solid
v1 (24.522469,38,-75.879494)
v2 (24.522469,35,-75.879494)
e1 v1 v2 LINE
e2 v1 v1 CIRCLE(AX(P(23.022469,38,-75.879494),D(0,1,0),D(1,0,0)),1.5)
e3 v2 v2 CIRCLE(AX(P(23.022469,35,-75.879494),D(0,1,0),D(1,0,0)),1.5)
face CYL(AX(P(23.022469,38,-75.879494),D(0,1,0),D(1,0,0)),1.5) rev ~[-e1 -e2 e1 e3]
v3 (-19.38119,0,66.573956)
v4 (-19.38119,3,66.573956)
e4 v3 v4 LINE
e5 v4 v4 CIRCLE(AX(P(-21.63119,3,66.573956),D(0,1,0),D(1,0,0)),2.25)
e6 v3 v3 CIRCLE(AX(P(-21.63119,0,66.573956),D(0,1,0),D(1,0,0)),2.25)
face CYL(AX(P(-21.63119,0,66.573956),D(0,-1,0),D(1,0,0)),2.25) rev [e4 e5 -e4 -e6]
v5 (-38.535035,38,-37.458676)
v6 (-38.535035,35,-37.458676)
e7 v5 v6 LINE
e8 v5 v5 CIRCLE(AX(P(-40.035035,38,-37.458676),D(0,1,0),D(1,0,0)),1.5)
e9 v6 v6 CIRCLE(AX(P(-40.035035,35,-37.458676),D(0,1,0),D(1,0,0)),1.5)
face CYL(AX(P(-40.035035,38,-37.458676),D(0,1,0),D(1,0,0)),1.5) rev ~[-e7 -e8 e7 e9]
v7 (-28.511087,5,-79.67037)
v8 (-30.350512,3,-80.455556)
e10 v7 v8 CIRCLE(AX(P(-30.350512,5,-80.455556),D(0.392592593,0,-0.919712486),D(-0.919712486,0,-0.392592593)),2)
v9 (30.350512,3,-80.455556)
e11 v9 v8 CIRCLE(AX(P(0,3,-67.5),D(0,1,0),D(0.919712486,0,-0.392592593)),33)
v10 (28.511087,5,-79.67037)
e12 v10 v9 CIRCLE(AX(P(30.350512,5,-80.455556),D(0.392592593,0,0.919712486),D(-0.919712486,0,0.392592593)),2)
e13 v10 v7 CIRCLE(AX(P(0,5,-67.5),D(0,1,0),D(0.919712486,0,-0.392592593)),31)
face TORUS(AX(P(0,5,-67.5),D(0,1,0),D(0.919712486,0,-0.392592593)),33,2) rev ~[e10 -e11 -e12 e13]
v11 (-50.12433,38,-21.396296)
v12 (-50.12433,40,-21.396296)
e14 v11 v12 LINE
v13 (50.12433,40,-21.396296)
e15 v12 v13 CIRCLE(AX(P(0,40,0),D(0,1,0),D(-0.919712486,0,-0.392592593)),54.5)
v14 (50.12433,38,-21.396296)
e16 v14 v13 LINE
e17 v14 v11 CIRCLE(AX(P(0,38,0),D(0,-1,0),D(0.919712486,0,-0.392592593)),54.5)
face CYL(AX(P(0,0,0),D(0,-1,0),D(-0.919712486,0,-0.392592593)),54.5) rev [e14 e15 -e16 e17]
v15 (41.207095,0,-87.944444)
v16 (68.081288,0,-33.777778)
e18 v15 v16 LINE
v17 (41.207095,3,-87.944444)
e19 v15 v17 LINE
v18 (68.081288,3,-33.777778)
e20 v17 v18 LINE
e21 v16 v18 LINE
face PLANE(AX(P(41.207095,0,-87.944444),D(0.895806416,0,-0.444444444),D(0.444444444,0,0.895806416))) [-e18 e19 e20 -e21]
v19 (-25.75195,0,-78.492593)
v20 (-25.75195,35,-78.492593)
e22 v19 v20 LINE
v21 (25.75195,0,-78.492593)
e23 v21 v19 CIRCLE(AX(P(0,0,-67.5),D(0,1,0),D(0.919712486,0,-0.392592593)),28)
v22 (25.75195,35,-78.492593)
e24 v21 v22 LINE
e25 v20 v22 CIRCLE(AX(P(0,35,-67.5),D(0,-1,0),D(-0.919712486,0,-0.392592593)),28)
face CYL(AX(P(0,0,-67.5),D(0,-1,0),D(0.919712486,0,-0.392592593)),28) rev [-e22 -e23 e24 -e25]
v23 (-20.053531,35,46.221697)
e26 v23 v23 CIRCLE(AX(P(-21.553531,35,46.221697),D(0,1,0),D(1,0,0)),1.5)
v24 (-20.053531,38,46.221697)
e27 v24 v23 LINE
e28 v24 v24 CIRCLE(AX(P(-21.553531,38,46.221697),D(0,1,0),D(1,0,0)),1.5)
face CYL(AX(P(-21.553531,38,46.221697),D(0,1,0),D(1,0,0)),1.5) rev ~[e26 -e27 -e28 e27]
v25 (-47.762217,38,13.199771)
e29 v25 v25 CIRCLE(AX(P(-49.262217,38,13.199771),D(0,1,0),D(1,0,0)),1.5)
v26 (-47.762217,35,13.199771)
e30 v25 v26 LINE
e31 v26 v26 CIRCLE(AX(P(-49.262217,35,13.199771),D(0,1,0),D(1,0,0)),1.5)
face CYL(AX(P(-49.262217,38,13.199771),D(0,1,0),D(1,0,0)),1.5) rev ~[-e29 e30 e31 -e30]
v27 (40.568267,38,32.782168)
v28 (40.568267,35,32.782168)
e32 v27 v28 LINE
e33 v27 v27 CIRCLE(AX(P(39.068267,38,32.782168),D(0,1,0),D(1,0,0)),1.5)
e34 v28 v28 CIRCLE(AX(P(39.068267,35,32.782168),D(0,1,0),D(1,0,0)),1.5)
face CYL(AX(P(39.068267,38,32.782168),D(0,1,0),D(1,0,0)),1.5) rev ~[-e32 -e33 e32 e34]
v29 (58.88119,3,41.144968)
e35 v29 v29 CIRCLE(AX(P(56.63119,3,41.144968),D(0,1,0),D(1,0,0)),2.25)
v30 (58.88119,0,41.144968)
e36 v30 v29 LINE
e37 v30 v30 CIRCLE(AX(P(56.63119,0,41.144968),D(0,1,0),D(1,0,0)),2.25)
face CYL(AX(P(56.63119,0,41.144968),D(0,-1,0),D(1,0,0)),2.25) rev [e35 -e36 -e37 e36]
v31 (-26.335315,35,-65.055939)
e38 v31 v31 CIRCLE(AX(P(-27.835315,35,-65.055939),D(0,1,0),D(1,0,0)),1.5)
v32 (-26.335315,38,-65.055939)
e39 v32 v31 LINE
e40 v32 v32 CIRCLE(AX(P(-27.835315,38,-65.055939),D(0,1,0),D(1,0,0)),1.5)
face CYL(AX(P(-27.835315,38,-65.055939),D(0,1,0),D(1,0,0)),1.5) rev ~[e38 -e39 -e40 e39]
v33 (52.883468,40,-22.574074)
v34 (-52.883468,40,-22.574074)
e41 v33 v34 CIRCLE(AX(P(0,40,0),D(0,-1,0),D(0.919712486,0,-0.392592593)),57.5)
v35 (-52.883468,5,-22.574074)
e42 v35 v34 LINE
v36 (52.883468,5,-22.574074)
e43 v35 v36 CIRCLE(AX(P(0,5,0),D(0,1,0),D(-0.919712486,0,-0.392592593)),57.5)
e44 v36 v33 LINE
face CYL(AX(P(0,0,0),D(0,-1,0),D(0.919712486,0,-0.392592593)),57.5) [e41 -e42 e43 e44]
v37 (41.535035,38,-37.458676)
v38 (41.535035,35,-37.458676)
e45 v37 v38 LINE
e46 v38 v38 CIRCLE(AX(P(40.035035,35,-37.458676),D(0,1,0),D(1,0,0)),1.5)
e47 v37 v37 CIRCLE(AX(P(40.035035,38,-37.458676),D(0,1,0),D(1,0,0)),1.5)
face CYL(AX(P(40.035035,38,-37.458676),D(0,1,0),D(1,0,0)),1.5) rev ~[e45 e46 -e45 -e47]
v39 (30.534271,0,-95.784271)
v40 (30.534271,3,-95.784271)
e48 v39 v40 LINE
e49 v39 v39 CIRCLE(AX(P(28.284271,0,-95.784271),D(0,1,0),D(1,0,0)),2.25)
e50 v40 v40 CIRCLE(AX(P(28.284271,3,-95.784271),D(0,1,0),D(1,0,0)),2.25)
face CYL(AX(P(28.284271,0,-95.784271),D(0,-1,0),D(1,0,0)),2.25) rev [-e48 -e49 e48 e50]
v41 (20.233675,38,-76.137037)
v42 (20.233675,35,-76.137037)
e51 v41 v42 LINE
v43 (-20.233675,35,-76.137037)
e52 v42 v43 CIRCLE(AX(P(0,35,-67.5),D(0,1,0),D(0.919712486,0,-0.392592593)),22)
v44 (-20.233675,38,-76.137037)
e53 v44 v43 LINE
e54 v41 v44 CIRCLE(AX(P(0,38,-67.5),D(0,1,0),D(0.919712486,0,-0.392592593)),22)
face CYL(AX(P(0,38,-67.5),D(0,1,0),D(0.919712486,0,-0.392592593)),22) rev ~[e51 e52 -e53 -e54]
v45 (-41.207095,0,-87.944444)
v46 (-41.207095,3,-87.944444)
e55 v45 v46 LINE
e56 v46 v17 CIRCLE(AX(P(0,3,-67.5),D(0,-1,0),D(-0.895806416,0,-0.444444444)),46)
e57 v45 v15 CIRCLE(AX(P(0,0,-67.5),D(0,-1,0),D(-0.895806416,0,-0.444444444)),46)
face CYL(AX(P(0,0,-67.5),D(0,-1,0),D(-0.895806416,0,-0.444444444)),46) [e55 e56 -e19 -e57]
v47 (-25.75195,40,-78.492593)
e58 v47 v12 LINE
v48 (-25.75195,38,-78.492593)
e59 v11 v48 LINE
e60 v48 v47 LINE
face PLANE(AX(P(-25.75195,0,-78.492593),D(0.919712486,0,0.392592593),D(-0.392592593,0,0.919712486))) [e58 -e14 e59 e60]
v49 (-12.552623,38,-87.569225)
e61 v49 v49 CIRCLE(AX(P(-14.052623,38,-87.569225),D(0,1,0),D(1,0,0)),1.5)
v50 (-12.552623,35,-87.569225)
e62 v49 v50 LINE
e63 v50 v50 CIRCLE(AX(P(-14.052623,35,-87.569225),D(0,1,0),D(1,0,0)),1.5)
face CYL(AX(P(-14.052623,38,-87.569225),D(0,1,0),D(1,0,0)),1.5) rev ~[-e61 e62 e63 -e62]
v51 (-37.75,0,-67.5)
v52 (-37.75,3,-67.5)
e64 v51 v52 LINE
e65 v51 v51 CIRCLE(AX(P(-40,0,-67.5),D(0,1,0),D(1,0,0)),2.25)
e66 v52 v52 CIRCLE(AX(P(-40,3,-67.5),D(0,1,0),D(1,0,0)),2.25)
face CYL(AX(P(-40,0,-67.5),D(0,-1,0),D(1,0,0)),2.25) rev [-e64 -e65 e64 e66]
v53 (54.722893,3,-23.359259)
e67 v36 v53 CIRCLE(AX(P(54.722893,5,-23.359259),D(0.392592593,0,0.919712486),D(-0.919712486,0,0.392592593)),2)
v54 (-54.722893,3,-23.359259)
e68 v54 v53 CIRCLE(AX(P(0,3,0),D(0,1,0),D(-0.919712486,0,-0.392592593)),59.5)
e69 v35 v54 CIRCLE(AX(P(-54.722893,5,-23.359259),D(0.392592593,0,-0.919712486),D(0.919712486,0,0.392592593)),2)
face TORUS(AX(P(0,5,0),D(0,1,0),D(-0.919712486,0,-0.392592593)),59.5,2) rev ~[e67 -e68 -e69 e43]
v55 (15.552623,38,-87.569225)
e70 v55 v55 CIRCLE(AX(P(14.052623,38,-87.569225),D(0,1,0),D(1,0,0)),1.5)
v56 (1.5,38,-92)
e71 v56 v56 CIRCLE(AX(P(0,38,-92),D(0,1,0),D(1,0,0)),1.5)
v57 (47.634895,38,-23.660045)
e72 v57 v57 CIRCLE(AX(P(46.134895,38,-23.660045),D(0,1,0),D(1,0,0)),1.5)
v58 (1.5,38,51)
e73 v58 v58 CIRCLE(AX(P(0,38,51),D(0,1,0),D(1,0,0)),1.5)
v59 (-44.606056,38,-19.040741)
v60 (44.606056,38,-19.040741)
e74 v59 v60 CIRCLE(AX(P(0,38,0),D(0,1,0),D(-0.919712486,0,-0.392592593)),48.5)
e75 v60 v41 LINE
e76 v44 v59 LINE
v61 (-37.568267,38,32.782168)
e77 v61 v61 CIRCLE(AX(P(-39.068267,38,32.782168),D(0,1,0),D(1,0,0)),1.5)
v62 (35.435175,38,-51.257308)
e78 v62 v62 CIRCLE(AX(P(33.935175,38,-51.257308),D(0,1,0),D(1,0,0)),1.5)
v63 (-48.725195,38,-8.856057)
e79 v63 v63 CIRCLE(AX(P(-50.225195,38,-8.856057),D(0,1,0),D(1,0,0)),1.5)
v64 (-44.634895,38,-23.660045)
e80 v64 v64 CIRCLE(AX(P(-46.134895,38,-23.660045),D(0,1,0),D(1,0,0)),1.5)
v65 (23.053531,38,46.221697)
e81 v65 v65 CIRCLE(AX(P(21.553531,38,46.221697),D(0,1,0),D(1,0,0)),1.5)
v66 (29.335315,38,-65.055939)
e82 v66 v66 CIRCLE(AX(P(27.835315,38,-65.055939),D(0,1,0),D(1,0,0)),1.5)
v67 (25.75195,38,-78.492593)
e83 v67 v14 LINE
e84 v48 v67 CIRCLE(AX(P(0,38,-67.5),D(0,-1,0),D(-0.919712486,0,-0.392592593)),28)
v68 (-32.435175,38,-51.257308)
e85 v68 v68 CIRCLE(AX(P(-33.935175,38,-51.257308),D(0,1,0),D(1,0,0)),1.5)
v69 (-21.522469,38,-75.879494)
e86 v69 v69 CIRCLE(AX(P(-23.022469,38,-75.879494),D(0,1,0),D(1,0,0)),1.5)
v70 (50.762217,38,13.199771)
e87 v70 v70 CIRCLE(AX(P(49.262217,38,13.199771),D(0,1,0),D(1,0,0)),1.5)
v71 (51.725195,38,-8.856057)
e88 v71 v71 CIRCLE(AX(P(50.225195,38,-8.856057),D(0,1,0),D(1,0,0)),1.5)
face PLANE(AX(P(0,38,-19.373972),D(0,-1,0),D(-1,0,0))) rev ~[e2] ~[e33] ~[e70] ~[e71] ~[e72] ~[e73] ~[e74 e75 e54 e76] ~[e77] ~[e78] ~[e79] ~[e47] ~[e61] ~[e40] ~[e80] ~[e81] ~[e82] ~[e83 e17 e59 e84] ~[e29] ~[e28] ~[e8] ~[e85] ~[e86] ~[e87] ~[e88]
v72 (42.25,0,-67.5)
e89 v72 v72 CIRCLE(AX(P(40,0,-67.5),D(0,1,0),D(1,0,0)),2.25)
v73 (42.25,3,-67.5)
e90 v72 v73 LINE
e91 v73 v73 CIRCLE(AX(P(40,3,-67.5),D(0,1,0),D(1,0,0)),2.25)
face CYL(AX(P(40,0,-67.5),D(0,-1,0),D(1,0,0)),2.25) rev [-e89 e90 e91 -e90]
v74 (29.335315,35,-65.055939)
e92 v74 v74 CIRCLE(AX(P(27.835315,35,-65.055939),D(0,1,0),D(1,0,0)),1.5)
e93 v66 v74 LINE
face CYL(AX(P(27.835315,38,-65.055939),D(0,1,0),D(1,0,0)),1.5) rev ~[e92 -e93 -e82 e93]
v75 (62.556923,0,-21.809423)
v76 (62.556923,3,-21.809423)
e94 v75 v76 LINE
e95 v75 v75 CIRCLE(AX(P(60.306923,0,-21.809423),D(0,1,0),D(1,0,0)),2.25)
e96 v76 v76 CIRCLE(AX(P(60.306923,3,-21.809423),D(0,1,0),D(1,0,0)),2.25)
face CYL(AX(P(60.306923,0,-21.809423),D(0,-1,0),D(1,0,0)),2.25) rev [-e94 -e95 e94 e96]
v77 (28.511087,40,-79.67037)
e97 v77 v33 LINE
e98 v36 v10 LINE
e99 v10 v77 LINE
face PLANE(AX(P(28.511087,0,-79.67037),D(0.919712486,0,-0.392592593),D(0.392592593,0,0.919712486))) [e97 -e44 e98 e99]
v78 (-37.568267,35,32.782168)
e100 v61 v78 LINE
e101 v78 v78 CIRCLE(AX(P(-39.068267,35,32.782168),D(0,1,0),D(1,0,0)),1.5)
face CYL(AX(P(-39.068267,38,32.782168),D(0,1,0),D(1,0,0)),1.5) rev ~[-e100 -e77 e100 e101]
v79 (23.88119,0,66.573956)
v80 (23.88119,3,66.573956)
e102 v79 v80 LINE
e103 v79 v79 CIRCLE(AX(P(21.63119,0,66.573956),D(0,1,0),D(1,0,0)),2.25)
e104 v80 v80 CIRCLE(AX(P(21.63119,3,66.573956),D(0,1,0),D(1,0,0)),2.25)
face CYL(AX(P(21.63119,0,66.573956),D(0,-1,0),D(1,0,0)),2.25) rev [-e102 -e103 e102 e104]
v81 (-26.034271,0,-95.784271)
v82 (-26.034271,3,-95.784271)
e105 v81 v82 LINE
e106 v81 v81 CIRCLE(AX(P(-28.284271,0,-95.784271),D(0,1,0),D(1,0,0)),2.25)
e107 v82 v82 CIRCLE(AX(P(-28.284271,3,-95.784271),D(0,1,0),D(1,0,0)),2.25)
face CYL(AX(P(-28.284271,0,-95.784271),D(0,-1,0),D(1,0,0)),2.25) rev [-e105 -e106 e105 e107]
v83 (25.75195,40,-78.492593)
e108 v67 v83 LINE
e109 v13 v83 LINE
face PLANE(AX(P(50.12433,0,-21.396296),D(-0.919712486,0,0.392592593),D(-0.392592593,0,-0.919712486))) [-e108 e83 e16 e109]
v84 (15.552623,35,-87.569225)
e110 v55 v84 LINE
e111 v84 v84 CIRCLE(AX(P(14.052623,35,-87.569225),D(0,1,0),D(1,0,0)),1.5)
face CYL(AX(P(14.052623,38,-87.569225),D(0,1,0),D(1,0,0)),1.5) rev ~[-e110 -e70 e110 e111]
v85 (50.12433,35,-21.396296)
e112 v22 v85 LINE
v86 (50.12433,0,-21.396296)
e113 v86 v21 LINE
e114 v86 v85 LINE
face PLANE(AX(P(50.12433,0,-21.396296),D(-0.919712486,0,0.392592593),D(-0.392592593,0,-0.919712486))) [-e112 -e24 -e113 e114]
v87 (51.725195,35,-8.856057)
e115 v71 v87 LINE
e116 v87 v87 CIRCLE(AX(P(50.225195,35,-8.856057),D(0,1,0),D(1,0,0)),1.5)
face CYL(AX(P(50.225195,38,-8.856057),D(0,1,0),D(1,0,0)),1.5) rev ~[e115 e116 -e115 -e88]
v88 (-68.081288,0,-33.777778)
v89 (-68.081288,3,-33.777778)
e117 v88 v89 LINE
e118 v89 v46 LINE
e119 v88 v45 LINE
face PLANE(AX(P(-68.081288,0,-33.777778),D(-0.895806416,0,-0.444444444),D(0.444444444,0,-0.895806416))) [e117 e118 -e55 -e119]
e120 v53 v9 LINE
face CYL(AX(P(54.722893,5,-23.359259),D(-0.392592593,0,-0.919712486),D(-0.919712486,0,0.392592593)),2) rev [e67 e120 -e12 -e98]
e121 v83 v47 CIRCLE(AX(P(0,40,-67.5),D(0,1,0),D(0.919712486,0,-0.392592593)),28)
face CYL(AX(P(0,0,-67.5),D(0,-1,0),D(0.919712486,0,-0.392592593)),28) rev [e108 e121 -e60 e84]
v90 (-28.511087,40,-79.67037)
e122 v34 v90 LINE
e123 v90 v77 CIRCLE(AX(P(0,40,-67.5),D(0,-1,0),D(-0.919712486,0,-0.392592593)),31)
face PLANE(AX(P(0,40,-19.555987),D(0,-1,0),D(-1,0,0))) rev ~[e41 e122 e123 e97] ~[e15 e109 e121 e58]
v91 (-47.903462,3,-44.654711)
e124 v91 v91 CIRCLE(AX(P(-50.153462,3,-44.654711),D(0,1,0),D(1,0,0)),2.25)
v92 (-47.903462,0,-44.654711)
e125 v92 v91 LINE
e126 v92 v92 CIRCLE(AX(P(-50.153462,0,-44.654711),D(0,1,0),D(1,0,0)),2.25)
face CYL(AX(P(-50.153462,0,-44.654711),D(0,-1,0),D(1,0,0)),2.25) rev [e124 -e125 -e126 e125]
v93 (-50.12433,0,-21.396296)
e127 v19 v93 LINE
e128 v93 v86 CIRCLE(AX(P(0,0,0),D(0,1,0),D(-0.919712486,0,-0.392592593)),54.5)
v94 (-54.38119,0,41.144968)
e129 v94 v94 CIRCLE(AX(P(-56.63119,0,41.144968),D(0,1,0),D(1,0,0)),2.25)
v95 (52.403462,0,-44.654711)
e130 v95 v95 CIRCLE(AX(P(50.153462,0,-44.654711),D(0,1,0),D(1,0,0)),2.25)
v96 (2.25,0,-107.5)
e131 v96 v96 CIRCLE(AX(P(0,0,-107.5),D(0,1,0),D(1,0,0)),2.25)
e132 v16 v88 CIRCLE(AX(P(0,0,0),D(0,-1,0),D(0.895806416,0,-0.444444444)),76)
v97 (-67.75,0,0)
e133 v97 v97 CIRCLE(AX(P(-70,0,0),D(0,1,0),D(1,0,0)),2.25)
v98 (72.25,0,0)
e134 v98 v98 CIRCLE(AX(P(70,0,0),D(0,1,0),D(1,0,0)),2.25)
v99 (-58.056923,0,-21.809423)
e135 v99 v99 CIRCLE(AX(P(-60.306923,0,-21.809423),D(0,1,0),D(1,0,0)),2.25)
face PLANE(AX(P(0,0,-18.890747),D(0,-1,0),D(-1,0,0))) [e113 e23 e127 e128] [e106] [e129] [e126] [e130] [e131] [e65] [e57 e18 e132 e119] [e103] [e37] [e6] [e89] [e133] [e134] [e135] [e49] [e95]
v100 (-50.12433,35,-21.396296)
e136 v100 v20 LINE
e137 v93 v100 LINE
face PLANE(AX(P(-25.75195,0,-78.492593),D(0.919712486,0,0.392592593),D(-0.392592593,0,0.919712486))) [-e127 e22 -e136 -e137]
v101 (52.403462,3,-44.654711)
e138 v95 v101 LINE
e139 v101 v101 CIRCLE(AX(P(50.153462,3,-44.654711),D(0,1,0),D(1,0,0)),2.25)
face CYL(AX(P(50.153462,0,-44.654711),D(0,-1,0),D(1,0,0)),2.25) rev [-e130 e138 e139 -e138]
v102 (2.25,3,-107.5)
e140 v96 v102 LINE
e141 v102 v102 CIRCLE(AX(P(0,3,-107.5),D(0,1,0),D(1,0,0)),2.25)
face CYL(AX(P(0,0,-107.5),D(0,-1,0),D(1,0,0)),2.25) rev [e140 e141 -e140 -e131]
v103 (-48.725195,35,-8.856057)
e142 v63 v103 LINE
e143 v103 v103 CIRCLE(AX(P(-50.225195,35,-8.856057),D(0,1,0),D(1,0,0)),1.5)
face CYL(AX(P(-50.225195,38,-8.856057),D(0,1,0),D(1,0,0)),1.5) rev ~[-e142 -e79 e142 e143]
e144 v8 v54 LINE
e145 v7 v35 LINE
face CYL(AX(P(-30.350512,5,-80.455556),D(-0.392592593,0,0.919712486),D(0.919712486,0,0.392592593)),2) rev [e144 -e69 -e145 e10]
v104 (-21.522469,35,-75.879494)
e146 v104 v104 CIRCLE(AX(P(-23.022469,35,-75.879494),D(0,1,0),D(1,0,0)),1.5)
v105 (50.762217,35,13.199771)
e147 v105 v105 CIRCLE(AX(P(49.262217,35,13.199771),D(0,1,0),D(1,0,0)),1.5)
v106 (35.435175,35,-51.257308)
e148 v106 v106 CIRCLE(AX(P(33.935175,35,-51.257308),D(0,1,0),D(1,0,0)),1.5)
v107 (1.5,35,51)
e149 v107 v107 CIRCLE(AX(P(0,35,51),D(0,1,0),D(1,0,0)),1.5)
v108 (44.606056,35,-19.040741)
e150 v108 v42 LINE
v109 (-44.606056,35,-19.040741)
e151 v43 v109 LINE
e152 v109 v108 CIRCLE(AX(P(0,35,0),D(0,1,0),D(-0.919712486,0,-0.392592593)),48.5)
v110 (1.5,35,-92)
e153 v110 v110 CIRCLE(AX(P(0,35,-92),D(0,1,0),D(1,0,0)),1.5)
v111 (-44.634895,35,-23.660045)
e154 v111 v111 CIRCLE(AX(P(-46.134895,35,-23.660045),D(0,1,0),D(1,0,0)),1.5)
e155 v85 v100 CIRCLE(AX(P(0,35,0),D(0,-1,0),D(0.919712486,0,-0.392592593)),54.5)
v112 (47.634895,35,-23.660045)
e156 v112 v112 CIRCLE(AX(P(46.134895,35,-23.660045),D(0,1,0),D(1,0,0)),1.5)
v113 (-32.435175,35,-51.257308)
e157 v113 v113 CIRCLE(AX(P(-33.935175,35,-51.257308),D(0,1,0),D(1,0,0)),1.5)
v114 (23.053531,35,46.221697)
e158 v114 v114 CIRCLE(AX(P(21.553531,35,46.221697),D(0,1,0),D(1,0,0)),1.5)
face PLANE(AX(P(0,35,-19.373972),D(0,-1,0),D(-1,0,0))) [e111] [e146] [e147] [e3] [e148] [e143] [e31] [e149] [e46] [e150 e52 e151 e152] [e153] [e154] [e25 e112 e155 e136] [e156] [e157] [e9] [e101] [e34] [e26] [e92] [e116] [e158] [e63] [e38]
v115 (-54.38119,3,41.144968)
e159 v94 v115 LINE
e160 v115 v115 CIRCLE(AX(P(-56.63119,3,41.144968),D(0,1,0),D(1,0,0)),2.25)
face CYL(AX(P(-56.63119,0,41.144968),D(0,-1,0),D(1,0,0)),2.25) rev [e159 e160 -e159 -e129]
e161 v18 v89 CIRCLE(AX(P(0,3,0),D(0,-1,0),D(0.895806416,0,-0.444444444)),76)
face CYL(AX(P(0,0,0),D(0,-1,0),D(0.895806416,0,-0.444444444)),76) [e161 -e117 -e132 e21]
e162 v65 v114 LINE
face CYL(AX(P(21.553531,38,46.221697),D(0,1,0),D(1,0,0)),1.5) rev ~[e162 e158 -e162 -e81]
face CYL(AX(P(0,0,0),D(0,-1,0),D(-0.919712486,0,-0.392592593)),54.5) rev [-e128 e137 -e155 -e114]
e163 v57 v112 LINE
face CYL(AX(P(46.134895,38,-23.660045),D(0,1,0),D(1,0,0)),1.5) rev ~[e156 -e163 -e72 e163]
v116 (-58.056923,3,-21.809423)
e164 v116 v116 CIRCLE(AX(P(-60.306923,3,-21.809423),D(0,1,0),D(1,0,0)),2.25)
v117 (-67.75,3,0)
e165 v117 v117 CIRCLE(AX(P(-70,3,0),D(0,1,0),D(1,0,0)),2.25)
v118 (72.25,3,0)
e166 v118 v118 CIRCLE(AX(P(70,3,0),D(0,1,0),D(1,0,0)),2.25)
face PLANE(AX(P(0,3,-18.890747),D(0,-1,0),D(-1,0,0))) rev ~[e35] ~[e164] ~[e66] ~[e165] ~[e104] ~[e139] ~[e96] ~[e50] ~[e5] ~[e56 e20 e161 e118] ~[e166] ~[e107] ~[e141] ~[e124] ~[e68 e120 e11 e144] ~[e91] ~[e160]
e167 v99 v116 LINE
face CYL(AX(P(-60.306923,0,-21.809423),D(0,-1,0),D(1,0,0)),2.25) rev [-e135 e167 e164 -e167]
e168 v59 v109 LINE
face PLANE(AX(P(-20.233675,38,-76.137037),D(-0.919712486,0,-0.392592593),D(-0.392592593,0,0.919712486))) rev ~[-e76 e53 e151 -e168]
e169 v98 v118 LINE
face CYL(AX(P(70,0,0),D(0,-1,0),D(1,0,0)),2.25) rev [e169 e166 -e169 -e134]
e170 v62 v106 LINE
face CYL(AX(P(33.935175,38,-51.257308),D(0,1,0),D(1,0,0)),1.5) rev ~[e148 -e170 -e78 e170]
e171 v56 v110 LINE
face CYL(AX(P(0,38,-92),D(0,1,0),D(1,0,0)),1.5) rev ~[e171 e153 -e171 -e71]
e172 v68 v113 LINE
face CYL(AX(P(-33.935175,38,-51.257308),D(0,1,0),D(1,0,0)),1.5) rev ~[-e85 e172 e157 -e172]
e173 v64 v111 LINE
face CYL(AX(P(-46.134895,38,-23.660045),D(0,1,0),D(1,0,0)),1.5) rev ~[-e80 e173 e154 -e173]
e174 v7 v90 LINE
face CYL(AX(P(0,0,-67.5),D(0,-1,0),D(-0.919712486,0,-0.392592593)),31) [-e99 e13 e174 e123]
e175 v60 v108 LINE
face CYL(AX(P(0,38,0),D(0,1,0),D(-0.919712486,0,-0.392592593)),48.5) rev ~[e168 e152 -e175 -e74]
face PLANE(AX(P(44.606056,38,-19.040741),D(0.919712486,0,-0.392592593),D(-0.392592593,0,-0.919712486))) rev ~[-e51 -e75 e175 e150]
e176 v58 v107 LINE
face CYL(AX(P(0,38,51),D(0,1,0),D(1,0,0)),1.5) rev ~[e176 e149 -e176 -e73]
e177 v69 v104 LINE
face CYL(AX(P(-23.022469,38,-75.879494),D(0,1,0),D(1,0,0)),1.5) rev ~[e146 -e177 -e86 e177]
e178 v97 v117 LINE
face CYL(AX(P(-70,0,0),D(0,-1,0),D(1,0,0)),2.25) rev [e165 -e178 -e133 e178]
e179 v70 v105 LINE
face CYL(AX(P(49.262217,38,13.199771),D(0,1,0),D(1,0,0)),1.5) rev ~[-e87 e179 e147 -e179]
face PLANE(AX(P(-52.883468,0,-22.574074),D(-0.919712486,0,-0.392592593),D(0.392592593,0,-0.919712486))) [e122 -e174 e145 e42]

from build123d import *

# Parameters (mm, degrees)
SKETCH1_R           = 2.25
BOSS_EXTRUDE1_DEPTH = 3
BOSS_EXTRUDE2_DEPTH = 40
BOSS_EXTRUDE3_START = -5
BOSS_EXTRUDE3_DEPTH = 3
SKETCH6_R           = 1.5
CUT_EXTRUDE1_DEPTH  = 142.782403704
FILLET1_R           = 2


with BuildPart() as part:
    # Sketch1 → Boss-Extrude1 (new body)
    with BuildSketch(Plane(origin=(0, 0, 0), x_dir=(1, 0, 0), z_dir=(0, 1, 0))):
        with BuildLine():
            Line((68.081287652, 33.777777778), (41.207095158, 87.944444444))
            ThreePointArc((41.207095158, 87.944444444), (0, 113.5), (-41.207095158, 87.944444444))
            Line((-41.207095158, 87.944444444), (-68.081287652, 33.777777778))
            ThreePointArc((-68.081287652, 33.777777778), (0, -76), (68.081287652, 33.777777778))
        make_face()
        with Locations((-56.631189606, -41.14496766)):
            Circle(SKETCH1_R, mode=Mode.SUBTRACT)
        with Locations((-21.631189606, -66.573956141)):
            Circle(SKETCH1_R, mode=Mode.SUBTRACT)
        with Locations((-70, 0)):
            Circle(SKETCH1_R, mode=Mode.SUBTRACT)
        with Locations((21.631189606, -66.573956141)):
            Circle(SKETCH1_R, mode=Mode.SUBTRACT)
        with Locations((56.631189606, -41.14496766)):
            Circle(SKETCH1_R, mode=Mode.SUBTRACT)
        with Locations((70, 0)):
            Circle(SKETCH1_R, mode=Mode.SUBTRACT)
        with Locations((-60.306923303, 21.809422569)):
            Circle(SKETCH1_R, mode=Mode.SUBTRACT)
        with Locations((-50.153461651, 44.654711284)):
            Circle(SKETCH1_R, mode=Mode.SUBTRACT)
        with Locations((-40, 67.5)):
            Circle(SKETCH1_R, mode=Mode.SUBTRACT)
        with Locations((-28.284271247, 95.784271247)):
            Circle(SKETCH1_R, mode=Mode.SUBTRACT)
        with Locations((0, 107.5)):
            Circle(SKETCH1_R, mode=Mode.SUBTRACT)
        with BuildLine():
            Line((-52.883467924, 22.574074074), (-28.511087055, 79.67037037))
            ThreePointArc((-28.511087055, 79.67037037), (0, 98.5), (28.511087055, 79.67037037))
            Line((28.511087055, 79.67037037), (52.883467924, 22.574074074))
            ThreePointArc((52.883467924, 22.574074074), (0, -57.5), (-52.883467924, 22.574074074))
        make_face(mode=Mode.SUBTRACT)
        with Locations((60.306923303, 21.809422569)):
            Circle(SKETCH1_R, mode=Mode.SUBTRACT)
        with Locations((50.153461651, 44.654711284)):
            Circle(SKETCH1_R, mode=Mode.SUBTRACT)
        with Locations((28.284271247, 95.784271247)):
            Circle(SKETCH1_R, mode=Mode.SUBTRACT)
        with Locations((40, 67.5)):
            Circle(SKETCH1_R, mode=Mode.SUBTRACT)
    extrude(amount=BOSS_EXTRUDE1_DEPTH)

    # Sketch1<3> → Boss-Extrude2 (add)
    with BuildSketch(Plane(origin=(0, 0, 0), x_dir=(1, 0, 0), z_dir=(0, 1, 0))):
        with BuildLine():
            ThreePointArc((28.511087055, 79.67037037), (0, 98.5), (-28.511087055, 79.67037037))
            Line((-28.511087055, 79.67037037), (-52.883467924, 22.574074074))
            ThreePointArc((-52.883467924, 22.574074074), (0, -57.5), (52.883467924, 22.574074074))
            Line((52.883467924, 22.574074074), (28.511087055, 79.67037037))
        make_face()
        with BuildLine():
            Line((-50.124330467, 21.396296296), (-25.751949598, 78.492592593))
            ThreePointArc((-25.751949598, 78.492592593), (0, 95.5), (25.751949598, 78.492592593))
            Line((25.751949598, 78.492592593), (50.124330467, 21.396296296))
            ThreePointArc((50.124330467, 21.396296296), (0, -54.5), (-50.124330467, 21.396296296))
        make_face(mode=Mode.SUBTRACT)
    extrude(amount=BOSS_EXTRUDE2_DEPTH)

    # Sketch5 → Boss-Extrude3 (add)
    with BuildSketch(Plane(origin=(0, 40, 0), x_dir=(1, 0, 0), z_dir=(0, 1, 0)).offset(BOSS_EXTRUDE3_START)):
        with BuildLine():
            Line((25.751949598, 78.492592593), (50.124330467, 21.396296296))
            ThreePointArc((50.124330467, 21.396296296), (0, -54.5), (-50.124330467, 21.396296296))
            Line((-50.124330467, 21.396296296), (-25.751949598, 78.492592593))
            ThreePointArc((-25.751949598, 78.492592593), (0, 95.5), (25.751949598, 78.492592593))
        make_face()
        with BuildLine():
            Line((-20.233674684, 76.137037037), (-44.606055554, 19.040740741))
            ThreePointArc((-44.606055554, 19.040740741), (0, -48.5), (44.606055554, 19.040740741))
            Line((44.606055554, 19.040740741), (20.233674684, 76.137037037))
            ThreePointArc((20.233674684, 76.137037037), (0, 89.5), (-20.233674684, 76.137037037))
        make_face(mode=Mode.SUBTRACT)
    extrude(amount=BOSS_EXTRUDE3_DEPTH)

    # Sketch6 → Cut-Extrude1 (cut, through all)
    with BuildSketch(Plane(origin=(0, 38, 0), x_dir=(1, 0, 0), z_dir=(0, 1, 0))):
        with Locations((0, -51)):
            Circle(SKETCH6_R)
        with Locations((0, 92)):
            Circle(SKETCH6_R)
        with Locations((14.052622691, 87.569225085)):
            Circle(SKETCH6_R)
        with Locations((23.022469209, 75.879493511)):
            Circle(SKETCH6_R)
        with Locations((21.553531349, -46.221697139)):
            Circle(SKETCH6_R)
        with Locations((39.068266599, -32.782168094)):
            Circle(SKETCH6_R)
        with Locations((49.262217141, -13.1997713)):
            Circle(SKETCH6_R)
        with Locations((50.225195404, 8.856057061)):
            Circle(SKETCH6_R)
        with Locations((27.835315177, 65.055939465)):
            Circle(SKETCH6_R)
        with Locations((33.935175216, 51.257307943)):
            Circle(SKETCH6_R)
        with Locations((40.035035255, 37.45867642)):
            Circle(SKETCH6_R)
        with Locations((46.134895294, 23.660044897)):
            Circle(SKETCH6_R)
        with Locations((-46.134895294, 23.660044897)):
            Circle(SKETCH6_R)
        with Locations((-40.035035255, 37.45867642)):
            Circle(SKETCH6_R)
        with Locations((-33.935175216, 51.257307943)):
            Circle(SKETCH6_R)
        with Locations((-27.835315177, 65.055939465)):
            Circle(SKETCH6_R)
        with Locations((-50.225195404, 8.856057061)):
            Circle(SKETCH6_R)
        with Locations((-49.262217141, -13.1997713)):
            Circle(SKETCH6_R)
        with Locations((-39.068266599, -32.782168094)):
            Circle(SKETCH6_R)
        with Locations((-21.553531349, -46.221697139)):
            Circle(SKETCH6_R)
        with Locations((-23.022469209, 75.879493511)):
            Circle(SKETCH6_R)
        with Locations((-14.052622691, 87.569225085)):
            Circle(SKETCH6_R)
    extrude(amount=-CUT_EXTRUDE1_DEPTH, mode=Mode.SUBTRACT)

    # Fillet1
    fillet1_edges = [part.edges().sort_by_distance(p)[0] for p in [
        (-40.69727749, 3, -51.122222222),
        (0, 3, -98.5),
        (40.69727749, 3, -51.122222222),
        (0, 3, 57.5),
    ]]
    fillet(fillet1_edges, radius=FILLET1_R)


solid = part.part
